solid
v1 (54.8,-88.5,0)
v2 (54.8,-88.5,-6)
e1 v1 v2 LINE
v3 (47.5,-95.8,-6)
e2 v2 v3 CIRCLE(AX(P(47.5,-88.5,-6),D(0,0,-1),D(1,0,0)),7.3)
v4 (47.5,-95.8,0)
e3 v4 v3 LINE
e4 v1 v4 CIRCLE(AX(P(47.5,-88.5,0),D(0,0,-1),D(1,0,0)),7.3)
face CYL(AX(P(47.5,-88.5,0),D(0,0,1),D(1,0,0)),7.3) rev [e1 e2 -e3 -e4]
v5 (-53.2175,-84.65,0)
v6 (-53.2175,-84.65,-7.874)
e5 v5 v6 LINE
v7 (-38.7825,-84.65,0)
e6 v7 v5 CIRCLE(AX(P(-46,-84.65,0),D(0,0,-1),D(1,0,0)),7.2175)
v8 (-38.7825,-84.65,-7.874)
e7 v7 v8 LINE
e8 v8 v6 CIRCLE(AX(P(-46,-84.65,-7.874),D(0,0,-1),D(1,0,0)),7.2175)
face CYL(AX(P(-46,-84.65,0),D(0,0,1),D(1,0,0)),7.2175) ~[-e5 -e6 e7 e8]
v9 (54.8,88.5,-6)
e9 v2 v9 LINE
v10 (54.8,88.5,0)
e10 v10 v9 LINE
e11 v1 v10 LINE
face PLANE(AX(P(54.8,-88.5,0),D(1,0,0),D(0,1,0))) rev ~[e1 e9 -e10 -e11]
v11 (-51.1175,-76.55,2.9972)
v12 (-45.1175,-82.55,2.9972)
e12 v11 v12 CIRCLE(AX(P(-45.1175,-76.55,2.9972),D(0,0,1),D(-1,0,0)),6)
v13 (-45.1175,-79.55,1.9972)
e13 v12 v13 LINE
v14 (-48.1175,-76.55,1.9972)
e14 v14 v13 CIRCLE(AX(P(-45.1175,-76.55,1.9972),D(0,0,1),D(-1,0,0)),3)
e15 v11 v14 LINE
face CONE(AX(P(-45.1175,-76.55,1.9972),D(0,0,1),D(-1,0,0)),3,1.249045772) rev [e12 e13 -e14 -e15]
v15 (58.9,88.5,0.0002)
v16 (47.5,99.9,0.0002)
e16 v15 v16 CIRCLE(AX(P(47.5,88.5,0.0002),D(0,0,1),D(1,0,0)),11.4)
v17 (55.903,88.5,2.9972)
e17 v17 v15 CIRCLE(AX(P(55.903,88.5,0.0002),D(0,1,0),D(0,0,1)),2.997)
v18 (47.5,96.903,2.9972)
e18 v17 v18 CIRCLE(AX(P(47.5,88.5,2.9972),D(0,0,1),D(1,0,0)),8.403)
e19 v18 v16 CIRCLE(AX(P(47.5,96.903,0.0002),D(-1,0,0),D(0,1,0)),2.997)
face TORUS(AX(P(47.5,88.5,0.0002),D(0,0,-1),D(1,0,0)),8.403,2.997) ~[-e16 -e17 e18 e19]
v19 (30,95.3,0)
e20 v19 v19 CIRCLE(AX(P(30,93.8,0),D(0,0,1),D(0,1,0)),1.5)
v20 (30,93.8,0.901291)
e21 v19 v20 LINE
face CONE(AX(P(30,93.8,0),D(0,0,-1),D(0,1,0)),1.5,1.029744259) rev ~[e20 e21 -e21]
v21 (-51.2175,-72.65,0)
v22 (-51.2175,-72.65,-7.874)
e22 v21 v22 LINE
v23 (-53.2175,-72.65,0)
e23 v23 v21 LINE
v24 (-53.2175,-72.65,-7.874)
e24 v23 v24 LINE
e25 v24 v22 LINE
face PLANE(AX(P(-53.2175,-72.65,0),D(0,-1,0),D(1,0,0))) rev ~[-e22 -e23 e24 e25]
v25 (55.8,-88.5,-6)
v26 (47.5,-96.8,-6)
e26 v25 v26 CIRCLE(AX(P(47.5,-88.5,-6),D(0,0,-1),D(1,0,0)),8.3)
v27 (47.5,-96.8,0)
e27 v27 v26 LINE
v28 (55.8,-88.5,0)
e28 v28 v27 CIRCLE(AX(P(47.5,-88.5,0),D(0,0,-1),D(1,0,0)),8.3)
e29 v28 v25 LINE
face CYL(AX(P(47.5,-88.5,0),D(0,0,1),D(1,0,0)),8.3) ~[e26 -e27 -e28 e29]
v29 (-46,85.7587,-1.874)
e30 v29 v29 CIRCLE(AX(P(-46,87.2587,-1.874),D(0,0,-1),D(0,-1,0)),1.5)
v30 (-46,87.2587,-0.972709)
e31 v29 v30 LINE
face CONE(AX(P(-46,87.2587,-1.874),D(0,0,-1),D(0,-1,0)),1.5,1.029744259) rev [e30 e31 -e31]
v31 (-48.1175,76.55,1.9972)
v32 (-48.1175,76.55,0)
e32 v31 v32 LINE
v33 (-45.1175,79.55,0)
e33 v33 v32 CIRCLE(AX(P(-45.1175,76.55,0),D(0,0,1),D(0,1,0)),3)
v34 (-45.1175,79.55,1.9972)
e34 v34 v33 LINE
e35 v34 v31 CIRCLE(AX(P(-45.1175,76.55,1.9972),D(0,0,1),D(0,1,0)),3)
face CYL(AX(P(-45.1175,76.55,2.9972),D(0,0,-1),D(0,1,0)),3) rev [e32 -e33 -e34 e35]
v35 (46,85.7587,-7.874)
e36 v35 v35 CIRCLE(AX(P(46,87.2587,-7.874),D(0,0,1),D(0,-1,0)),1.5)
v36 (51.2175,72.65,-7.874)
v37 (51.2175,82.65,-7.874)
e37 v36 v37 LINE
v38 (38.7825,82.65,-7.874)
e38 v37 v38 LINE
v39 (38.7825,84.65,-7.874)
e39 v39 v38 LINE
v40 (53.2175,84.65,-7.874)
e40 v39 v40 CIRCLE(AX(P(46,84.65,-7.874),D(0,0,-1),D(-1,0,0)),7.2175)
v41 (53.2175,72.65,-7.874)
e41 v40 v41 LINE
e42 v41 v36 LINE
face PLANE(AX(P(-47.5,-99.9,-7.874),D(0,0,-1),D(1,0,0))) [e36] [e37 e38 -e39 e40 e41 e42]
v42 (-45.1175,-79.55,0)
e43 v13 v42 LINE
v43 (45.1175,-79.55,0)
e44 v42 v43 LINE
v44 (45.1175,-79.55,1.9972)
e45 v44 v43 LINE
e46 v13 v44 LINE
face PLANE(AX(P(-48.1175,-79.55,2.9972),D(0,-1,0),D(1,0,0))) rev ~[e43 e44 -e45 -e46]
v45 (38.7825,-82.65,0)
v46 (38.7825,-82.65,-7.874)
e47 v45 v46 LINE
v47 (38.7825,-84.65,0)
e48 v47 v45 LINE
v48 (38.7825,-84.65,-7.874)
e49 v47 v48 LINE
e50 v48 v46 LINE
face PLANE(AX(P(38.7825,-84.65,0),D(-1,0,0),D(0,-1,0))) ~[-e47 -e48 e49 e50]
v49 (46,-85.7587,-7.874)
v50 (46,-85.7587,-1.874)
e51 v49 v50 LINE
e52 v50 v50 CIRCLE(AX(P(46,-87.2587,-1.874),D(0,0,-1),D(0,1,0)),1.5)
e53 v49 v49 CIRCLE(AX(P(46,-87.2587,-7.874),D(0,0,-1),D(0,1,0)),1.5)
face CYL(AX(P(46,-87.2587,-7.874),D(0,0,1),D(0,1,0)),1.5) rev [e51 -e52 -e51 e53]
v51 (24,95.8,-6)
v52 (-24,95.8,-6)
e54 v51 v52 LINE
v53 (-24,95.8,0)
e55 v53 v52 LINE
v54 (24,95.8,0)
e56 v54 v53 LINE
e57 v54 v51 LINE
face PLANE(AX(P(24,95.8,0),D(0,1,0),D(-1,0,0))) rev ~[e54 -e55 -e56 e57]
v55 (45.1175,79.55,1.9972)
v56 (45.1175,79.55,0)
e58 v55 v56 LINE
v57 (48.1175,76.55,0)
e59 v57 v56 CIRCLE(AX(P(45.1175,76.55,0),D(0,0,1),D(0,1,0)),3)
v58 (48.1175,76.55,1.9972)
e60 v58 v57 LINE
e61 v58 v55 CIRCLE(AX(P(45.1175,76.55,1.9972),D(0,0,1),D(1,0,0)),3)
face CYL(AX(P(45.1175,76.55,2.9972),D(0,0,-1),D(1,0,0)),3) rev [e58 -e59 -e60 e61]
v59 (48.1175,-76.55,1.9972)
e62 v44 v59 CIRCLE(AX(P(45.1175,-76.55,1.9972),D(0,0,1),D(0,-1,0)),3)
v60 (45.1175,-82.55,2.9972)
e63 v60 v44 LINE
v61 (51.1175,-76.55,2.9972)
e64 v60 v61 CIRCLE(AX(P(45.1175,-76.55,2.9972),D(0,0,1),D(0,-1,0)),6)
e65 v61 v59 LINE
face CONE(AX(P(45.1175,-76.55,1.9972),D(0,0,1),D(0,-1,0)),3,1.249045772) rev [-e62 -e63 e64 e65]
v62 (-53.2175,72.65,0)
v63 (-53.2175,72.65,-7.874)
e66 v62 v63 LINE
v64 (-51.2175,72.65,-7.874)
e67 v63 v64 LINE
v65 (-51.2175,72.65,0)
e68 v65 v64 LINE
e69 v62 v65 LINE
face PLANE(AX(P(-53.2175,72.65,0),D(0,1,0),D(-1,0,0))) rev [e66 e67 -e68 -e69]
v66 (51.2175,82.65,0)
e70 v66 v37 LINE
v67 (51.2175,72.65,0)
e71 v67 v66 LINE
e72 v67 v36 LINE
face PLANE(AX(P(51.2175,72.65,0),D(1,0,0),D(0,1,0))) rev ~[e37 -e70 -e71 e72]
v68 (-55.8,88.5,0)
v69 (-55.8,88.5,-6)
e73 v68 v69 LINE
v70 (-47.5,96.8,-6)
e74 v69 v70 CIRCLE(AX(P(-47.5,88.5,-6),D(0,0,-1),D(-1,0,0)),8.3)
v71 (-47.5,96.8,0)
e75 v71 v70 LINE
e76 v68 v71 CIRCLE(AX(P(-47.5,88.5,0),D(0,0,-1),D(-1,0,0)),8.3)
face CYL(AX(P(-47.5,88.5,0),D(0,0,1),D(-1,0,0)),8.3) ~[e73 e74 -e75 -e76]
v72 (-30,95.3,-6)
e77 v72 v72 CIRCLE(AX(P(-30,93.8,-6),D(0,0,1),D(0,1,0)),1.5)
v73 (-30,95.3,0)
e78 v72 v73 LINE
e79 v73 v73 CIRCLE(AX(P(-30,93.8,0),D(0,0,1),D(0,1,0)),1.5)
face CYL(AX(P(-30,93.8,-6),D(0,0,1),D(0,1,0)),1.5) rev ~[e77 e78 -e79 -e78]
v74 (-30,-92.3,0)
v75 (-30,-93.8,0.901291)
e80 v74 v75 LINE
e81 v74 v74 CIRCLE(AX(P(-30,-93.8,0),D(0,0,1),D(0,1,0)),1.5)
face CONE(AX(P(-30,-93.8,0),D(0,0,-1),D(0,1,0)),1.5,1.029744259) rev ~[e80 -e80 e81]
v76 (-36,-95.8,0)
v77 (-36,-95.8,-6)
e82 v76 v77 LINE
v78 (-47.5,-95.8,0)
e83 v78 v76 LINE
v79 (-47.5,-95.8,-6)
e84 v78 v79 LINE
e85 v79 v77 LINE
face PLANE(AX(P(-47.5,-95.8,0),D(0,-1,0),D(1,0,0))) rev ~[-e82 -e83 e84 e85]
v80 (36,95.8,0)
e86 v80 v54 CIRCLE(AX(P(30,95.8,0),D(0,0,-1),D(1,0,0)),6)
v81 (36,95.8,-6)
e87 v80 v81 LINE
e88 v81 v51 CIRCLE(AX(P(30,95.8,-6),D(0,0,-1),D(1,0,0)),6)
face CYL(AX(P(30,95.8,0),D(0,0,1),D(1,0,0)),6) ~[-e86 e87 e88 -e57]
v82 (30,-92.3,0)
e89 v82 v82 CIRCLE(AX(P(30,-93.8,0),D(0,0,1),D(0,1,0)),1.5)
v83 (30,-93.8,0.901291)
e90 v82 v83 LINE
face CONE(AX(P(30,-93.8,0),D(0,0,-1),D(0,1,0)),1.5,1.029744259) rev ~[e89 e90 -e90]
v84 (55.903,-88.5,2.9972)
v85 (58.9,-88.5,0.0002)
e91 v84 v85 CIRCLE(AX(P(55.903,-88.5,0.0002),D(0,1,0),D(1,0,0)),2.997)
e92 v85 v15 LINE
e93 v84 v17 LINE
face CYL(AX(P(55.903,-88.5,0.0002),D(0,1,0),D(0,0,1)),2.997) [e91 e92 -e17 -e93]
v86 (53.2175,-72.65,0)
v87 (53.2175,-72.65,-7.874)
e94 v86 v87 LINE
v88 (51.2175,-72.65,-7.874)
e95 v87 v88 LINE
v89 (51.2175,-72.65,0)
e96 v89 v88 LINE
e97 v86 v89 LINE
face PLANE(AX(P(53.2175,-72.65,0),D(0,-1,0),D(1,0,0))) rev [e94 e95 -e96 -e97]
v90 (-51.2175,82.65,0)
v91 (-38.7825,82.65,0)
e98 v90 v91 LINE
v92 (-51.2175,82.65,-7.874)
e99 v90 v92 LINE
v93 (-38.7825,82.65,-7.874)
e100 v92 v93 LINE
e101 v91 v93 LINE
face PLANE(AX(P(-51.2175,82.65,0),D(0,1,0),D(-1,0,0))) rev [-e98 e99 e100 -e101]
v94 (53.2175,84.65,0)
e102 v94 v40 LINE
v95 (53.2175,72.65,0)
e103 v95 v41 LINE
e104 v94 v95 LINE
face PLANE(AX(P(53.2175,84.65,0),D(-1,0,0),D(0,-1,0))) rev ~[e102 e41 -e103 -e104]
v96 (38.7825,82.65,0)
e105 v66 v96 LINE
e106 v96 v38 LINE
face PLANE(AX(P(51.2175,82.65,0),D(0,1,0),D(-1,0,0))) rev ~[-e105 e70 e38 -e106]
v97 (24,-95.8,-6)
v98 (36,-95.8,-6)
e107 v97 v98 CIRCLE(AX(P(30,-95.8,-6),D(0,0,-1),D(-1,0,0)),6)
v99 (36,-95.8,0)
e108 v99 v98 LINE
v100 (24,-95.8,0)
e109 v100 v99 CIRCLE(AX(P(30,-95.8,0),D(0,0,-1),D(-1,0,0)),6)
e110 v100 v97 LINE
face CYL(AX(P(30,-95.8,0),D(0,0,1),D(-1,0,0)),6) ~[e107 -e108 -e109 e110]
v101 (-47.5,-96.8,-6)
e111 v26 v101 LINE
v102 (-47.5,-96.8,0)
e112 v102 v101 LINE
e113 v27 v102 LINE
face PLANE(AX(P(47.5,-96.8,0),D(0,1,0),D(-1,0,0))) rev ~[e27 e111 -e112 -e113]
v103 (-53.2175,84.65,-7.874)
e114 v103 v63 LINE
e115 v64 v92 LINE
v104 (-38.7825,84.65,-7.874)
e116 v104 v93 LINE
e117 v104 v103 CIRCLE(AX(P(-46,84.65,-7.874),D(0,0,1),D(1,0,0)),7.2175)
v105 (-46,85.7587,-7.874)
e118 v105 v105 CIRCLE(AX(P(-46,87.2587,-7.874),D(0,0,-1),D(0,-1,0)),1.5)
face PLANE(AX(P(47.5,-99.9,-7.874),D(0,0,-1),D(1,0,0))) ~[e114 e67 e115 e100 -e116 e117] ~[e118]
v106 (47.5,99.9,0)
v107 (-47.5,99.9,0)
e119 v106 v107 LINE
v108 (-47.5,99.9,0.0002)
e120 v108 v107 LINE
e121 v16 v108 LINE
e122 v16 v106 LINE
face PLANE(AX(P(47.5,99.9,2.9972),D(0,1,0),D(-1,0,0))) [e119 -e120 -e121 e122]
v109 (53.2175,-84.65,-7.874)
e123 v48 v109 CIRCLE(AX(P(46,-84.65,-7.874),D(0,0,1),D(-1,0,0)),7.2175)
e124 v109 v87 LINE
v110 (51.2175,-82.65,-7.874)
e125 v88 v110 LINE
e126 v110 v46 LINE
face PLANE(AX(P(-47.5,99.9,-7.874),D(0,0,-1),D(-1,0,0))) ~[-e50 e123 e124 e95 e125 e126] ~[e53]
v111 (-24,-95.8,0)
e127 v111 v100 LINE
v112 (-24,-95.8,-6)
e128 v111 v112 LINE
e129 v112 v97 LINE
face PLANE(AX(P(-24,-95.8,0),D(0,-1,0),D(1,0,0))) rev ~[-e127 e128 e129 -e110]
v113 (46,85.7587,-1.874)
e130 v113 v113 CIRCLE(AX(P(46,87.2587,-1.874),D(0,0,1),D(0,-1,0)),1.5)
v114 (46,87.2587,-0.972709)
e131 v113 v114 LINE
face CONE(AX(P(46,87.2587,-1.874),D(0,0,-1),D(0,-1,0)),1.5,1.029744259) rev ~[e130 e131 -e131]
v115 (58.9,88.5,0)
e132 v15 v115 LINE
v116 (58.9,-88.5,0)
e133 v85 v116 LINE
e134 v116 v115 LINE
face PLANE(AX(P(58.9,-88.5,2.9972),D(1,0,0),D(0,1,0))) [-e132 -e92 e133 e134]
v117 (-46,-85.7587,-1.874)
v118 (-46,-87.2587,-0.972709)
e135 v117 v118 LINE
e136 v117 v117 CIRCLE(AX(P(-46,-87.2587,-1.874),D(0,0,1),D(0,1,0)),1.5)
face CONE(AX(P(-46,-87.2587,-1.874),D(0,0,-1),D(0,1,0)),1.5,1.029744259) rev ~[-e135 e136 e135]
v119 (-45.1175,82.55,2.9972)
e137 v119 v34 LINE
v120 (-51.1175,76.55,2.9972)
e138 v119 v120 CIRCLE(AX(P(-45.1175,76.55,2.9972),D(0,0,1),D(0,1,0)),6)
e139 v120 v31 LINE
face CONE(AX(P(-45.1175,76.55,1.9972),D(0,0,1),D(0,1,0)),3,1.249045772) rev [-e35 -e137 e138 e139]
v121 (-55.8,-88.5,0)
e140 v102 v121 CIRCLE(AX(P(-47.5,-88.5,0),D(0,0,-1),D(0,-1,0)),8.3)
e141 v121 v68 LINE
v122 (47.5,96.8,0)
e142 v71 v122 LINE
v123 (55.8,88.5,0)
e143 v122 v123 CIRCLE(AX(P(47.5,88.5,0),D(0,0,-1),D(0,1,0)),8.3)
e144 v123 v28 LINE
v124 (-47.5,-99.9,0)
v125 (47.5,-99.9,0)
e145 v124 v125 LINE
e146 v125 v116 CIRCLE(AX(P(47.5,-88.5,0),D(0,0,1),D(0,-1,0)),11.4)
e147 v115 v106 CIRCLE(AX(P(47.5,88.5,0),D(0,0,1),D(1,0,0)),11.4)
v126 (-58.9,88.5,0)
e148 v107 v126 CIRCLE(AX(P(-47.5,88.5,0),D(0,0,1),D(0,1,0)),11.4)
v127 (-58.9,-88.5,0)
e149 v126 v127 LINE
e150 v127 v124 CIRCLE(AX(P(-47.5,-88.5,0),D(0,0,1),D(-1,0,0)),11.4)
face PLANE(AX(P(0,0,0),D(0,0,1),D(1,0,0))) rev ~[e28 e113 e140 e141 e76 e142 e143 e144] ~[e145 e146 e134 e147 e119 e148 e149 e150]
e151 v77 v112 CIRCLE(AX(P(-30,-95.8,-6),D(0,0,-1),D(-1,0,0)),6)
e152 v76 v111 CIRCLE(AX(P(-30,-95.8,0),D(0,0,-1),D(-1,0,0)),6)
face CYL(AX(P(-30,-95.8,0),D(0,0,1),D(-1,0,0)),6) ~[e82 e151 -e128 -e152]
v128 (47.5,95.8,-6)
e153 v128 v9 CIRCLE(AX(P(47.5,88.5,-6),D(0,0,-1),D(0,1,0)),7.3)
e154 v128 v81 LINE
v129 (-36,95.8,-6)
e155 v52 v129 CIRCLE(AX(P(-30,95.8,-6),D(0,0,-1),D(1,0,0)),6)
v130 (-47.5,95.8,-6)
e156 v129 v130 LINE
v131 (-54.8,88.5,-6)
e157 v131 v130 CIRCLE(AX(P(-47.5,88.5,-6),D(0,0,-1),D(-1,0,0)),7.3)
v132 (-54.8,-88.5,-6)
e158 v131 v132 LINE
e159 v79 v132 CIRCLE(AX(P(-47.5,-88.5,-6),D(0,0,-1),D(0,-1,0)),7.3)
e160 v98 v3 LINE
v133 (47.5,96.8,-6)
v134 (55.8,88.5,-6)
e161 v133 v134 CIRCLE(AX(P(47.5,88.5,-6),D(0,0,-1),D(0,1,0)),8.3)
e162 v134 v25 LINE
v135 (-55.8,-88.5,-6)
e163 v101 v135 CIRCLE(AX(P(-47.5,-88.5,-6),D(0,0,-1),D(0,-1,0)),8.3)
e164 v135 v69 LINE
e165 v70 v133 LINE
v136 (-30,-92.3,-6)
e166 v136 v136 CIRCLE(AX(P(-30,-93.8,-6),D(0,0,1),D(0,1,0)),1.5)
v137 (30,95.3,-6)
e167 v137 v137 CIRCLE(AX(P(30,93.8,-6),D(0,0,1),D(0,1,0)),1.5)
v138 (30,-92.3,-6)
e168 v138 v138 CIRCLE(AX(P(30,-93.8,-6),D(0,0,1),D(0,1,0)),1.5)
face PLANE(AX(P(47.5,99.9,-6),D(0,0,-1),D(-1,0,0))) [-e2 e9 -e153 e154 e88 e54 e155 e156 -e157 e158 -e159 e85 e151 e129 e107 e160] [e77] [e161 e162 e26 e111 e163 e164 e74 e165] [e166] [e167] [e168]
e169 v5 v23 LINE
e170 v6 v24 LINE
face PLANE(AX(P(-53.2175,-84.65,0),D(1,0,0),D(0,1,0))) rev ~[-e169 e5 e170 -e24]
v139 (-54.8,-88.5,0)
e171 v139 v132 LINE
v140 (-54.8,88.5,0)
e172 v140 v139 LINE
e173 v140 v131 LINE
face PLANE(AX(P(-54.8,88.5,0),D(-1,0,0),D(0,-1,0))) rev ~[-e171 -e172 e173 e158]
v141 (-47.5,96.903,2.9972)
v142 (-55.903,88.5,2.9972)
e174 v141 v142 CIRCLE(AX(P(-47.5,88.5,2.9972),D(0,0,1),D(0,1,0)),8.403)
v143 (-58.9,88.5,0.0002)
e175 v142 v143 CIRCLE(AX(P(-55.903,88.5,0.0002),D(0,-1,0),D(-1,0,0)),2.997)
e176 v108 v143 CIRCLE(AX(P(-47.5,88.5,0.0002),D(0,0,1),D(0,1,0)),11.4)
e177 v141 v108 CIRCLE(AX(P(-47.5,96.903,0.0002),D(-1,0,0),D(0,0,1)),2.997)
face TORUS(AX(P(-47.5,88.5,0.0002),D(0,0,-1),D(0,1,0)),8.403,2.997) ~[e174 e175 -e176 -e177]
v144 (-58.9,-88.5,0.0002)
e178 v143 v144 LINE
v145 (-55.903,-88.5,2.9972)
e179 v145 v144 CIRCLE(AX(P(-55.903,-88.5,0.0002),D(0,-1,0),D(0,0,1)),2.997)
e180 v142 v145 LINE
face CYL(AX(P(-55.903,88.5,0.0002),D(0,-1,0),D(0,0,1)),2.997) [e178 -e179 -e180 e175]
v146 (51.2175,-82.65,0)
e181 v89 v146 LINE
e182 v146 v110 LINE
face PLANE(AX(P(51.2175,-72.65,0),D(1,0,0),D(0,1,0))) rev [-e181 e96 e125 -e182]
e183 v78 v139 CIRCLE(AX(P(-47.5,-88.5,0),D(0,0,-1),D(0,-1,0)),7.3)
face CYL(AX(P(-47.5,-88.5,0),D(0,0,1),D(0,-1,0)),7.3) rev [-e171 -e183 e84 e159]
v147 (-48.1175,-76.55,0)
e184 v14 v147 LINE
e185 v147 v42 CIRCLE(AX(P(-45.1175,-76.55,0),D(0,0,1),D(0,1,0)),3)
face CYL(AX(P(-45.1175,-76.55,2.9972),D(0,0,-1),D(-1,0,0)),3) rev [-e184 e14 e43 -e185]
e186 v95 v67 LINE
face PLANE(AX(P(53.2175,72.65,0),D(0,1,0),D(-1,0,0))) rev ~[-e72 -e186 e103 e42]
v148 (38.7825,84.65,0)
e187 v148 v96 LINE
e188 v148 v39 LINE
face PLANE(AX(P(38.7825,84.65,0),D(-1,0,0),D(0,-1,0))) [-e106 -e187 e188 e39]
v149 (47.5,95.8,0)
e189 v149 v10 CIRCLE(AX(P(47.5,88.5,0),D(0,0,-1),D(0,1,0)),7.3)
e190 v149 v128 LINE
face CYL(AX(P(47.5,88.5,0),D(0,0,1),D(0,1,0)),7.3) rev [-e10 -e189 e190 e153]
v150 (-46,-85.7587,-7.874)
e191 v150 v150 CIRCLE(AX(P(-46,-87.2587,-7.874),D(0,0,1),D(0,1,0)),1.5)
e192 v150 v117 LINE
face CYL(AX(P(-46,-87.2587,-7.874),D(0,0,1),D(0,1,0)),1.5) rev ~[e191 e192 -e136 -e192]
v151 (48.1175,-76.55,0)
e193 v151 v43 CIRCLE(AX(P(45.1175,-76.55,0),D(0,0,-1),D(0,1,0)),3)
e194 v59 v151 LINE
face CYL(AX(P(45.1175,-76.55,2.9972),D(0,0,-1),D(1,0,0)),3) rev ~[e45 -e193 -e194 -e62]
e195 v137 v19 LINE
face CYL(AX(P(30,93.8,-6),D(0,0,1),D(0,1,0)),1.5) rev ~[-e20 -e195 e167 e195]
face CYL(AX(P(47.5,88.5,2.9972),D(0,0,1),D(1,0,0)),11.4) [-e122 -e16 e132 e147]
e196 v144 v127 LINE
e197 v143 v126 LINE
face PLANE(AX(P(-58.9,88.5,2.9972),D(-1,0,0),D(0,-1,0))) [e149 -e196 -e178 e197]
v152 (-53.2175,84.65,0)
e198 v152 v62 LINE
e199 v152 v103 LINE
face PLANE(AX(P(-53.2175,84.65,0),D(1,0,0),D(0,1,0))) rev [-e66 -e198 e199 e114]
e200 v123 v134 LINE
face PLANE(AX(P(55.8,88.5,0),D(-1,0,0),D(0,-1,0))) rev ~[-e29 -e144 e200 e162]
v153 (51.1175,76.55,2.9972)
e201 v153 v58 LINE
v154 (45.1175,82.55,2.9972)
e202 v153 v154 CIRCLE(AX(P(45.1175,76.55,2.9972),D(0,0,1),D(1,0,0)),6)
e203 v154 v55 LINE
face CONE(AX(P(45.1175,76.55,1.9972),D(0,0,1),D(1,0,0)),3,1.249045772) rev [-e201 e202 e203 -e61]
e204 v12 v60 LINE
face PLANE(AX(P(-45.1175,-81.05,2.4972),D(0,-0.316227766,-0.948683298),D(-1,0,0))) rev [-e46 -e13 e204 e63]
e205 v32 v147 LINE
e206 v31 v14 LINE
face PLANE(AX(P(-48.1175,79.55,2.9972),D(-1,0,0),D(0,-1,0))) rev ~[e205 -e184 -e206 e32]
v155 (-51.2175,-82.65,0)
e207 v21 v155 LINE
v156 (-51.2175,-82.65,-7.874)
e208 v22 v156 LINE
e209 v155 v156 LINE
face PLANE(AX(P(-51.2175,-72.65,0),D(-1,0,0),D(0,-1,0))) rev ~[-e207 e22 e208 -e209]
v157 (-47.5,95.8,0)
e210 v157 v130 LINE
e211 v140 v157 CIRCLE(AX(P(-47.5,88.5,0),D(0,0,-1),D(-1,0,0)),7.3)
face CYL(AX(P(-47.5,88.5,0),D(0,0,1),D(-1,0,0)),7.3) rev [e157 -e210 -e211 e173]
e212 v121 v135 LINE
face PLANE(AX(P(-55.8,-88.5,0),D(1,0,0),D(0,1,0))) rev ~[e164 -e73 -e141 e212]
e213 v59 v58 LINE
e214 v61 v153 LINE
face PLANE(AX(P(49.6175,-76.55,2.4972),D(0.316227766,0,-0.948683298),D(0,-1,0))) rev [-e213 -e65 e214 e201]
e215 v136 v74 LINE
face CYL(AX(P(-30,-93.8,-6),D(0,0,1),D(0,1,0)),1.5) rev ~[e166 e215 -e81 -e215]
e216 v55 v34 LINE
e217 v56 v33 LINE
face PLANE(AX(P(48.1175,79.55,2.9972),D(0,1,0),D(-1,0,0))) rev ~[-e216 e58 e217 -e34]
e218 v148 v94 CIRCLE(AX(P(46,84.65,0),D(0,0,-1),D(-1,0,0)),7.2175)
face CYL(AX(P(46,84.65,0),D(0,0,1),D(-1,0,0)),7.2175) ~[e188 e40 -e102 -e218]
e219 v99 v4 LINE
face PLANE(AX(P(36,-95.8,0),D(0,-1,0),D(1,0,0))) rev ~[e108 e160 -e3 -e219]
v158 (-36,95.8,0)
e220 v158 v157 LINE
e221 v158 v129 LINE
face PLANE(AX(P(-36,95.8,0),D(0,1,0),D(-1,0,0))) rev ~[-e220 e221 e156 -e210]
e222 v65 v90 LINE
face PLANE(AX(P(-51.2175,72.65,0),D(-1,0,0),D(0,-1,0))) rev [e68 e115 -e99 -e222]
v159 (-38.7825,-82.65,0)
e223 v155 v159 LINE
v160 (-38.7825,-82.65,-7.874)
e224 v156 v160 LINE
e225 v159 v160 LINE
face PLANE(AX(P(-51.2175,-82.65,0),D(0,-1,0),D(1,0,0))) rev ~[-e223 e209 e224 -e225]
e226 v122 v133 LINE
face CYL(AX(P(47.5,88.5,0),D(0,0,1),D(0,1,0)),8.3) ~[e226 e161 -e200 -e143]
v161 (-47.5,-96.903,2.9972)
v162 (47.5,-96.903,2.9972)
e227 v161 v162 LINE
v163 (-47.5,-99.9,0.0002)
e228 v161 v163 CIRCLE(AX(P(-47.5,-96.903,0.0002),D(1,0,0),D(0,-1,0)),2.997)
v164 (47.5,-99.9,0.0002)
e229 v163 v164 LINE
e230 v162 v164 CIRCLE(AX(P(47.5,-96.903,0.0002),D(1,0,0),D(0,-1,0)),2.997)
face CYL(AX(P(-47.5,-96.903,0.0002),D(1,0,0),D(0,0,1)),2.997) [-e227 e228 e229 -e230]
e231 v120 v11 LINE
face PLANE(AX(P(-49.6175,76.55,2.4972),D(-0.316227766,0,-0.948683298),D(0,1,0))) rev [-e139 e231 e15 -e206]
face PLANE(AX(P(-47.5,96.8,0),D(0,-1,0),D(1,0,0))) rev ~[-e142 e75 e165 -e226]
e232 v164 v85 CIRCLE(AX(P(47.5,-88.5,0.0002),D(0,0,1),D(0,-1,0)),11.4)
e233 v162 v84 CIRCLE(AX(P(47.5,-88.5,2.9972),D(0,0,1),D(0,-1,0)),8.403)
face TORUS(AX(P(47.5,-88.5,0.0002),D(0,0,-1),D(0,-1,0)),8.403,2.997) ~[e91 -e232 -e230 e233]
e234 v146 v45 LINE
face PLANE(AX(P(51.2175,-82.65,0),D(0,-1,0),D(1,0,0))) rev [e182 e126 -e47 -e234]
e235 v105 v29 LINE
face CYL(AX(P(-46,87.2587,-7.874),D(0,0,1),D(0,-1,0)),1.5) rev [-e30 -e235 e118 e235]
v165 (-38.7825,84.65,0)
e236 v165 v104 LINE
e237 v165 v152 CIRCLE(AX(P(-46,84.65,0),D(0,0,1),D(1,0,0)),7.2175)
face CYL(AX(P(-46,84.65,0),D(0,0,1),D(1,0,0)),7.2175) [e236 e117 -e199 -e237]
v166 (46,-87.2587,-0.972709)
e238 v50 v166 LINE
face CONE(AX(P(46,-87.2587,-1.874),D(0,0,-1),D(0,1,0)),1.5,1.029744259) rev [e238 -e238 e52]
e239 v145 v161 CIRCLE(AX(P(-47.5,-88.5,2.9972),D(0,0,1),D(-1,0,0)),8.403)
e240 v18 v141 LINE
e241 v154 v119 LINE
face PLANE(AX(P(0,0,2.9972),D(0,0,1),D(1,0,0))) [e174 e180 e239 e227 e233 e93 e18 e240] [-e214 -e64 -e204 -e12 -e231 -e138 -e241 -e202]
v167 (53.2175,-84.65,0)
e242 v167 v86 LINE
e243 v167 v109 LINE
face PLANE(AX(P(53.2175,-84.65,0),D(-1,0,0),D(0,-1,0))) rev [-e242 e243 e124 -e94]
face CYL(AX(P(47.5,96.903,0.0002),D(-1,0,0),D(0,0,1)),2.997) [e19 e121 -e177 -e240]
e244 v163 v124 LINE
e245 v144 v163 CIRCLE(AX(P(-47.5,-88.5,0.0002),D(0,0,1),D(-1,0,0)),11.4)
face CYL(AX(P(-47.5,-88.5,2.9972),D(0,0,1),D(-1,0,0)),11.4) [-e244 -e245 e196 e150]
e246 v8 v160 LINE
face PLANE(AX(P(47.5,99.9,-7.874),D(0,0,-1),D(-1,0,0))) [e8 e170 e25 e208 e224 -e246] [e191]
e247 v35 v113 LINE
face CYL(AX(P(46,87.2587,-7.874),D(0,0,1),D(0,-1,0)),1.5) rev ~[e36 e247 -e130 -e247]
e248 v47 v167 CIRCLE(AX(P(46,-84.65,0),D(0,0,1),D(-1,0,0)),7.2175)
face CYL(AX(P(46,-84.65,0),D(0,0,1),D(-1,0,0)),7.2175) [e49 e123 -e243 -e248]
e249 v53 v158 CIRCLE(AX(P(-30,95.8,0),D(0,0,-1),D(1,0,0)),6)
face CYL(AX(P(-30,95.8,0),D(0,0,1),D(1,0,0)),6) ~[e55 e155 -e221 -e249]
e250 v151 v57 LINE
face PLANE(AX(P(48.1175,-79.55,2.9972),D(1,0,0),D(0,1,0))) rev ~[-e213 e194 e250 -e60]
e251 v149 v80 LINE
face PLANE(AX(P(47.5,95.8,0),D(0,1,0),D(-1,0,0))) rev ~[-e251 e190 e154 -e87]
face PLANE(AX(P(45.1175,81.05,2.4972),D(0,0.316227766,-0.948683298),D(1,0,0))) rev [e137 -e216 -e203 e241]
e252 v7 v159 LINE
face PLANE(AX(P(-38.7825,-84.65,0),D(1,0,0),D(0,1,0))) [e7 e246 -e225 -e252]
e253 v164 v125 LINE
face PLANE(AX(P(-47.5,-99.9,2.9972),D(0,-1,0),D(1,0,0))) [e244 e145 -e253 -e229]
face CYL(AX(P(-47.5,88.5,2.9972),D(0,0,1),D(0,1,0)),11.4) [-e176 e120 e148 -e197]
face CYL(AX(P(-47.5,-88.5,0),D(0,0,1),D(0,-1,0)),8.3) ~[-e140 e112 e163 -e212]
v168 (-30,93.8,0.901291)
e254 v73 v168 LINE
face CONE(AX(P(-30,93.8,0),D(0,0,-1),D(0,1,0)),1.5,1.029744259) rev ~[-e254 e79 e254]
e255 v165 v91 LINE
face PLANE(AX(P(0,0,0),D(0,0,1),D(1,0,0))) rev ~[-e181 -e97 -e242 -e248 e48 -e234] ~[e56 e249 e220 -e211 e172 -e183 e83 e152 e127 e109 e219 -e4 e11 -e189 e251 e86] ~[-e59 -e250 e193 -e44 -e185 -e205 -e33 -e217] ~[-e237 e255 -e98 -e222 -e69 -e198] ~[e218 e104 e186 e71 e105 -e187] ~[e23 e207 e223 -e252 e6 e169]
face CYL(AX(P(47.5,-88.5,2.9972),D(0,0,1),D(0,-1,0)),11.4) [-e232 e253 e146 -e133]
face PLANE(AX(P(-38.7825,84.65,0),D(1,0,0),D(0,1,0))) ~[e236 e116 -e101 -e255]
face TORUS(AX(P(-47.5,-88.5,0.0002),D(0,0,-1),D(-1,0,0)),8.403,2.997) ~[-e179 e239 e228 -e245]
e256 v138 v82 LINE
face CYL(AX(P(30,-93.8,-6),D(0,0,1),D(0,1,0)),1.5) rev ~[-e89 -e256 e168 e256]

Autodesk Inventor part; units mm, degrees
ref_plane "YZ Plane" through (0, 0, 0) normal (1, 0, 0) x (0, 1, 0)
ref_plane "Work Plane1" through (0, 0, 2.9972) normal (0, 0, 1) x (1, 0, 0)
ref_plane "Work Plane3" through (-58.9, -99.9, 0) normal (0, 0, 1) x (1, 0, 0)
sketch "Sketch2" plane through (0, 0, 2.9972) normal (0, 0, 1) x (1, 0, 0)
  line L0 (51.1175, 82.55) -> (51.1175, -82.55) construction
  line L1 (-51.1175, 82.55) -> (51.1175, 82.55) construction
  line L2 (-51.1175, -82.55) -> (-51.1175, 82.55) construction
  line L3 (51.1175, -82.55) -> (-51.1175, -82.55) construction
  arc A0 (58.9, 88.5) -> (47.5, 99.9) centre (47.5, 88.5) ccw projected
  line L4 (47.5, 99.9) -> (-47.5, 99.9) projected
  line L5 (58.9, -88.5) -> (58.9, 88.5) projected
  arc A1 (47.5, -99.9) -> (58.9, -88.5) centre (47.5, -88.5) ccw projected
  line L6 (-47.5, -99.9) -> (47.5, -99.9) projected
  arc A2 (-58.9, -88.5) -> (-47.5, -99.9) centre (-47.5, -88.5) ccw projected
  line L7 (-58.9, 88.5) -> (-58.9, -88.5) projected
  arc A3 (-47.5, 99.9) -> (-58.9, 88.5) centre (-47.5, 88.5) ccw projected
  line L8 (48.1175, -79.55) -> (48.1175, 79.55)
  line L9 (48.1175, 79.55) -> (-48.1175, 79.55)
  line L10 (-48.1175, 79.55) -> (-48.1175, -79.55)
  line L11 (-48.1175, -79.55) -> (48.1175, -79.55)
  point P0 (0, 0)
  dimension "d1" = 3
extrude "Extrusion1" add sketch "Sketch2" against normal up to surface (2.9972 mm away)
fillet "Fillet1" radius 3 4 edges at (48.1175, 79.55, 1.4986) (48.1175, -79.55, 1.4986) (-48.1175, -79.55, 1.4986) (-48.1175, 79.55, 1.4986)
chamfer "Chamfer1" distance 3 distance2 1 4 edges at (48.1175, 0, 2.9972) (0, -79.55, 2.9972) (-48.1175, 0, 2.9972) (0, 79.55, 2.9972) measured on face at (15.0392, -93.1167, 2.9972)
sketch "Sketch3" plane through (47.5, 99.9, 0) normal (0, 0, -1) x (-1, 0, 0)
  line L0 (98.6175, -17.35) -> (-3.6175, -17.35) construction
  line L1 (98.6175, -182.45) -> (98.6175, -17.35) construction
  line L2 (-3.6175, -182.45) -> (98.6175, -182.45) construction
  line L3 (-3.6175, -17.35) -> (-3.6175, -182.45) construction
  line L4 (95, -196.8) -> (0, -196.8) construction
  arc A0 (-8.4, -188.4) -> (0, -196.8) centre (0, -188.4) ccw construction
  line L5 (-8.4, -188.4) -> (-8.4, -11.4) construction
  arc A1 (0, -3) -> (-8.4, -11.4) centre (0, -11.4) ccw construction
  line L6 (0, -3) -> (95, -3) construction
  arc A2 (103.4, -11.4) -> (95, -3) centre (95, -11.4) ccw construction
  line L7 (103.4, -11.4) -> (103.4, -188.4) construction
  arc A3 (95, -196.8) -> (103.4, -188.4) centre (95, -188.4) ccw construction
  line L8 (-3.7175, -17.25) -> (98.7175, -17.25)
  line L9 (98.7175, -17.25) -> (98.7175, -182.55)
  line L10 (98.7175, -182.55) -> (-3.7175, -182.55)
  line L11 (-3.7175, -182.55) -> (-3.7175, -17.25)
  line L12 (95, -3.1) -> (0, -3.1)
  arc A4 (0, -3.1) -> (-8.3, -11.4) centre (0, -11.4) ccw
  line L13 (-8.3, -11.4) -> (-8.3, -188.4)
  arc A5 (-8.3, -188.4) -> (0, -196.7) centre (0, -188.4) ccw
  line L14 (0, -196.7) -> (95, -196.7)
  arc A6 (95, -196.7) -> (103.3, -188.4) centre (95, -188.4) ccw
  line L15 (103.3, -188.4) -> (103.3, -11.4)
  arc A7 (103.3, -11.4) -> (95, -3.1) centre (95, -11.4) ccw
  line L16 (100.7175, -15.25) -> (-5.7175, -15.25)
  line L17 (-5.7175, -15.25) -> (-5.7175, -184.55)
  line L18 (-5.7175, -184.55) -> (100.7175, -184.55)
  line L19 (100.7175, -184.55) -> (100.7175, -15.25)
  line L20 (100.7175, -172.55) -> (98.7175, -172.55)
  arc A8 (86.2825, -184.55) -> (100.7175, -184.55) centre (93.5, -184.55) ccw
  line L21 (86.2825, -184.55) -> (86.2825, -182.55)
  circle A9 centre (93.5, -177.4) radius 1.0065 construction
  line L22 (93.5, -177.4) -> (93.5, -184.55) construction
  point P0 (47.5, -99.9)
  dimension "d8" = 0.1
  dimension "d9" = 0.1
  dimension "d10" = 2
  dimension "d11" = 12
ref_plane "Work Plane4" through (-51.1175, -82.55, -7.874) normal (0, 0, -1) x (0, 1, 0)
extrude "Extrusion2" add sketch "Sketch3" along normal up to surface (7.874 mm away) contours L20 L19 L18 L21 L10 L9 | L18 A8
ref_plane "Work Plane5" through (0, -88.5, 2.9972) normal (1, 0, 0) x (0, 0, -1)
ref_plane "Work Plane6" through (-47.5, 0, 2.9972) normal (0, 1, 0) x (1, 0, 0)
sketch "Sketch5" plane through (-46, -84.65, -7.874) normal (0, 0, -1) x (-1, 0, 0)
  arc A0 (-7.2175, 0) -> (7.2175, 0) centre (0, 0) ccw projected
  line L0 (0, -7.2175) -> (0, 2) construction
  line L1 (-7.2175, 2) -> (5.2175, 2) projected
  point P0 (-46, 84.65)
  point P1 (0, -2.6087)
hole "Hole1" at (-46, -87.2587, -7.874) direction (0, 0, 1) diameter 3 depth 6 tip angle 118
mirror "Mirror1" about plane through (0, -88.5, 2.9972) normal (1, 0, 0) of "Extrusion2", "Hole1"
mirror "Mirror2" about plane through (-47.5, 0, 2.9972) normal (0, 1, 0) of "Extrusion2", "Hole1", "Mirror1"
fillet "Fillet2" radius 3 8 edges at (55.561, -96.561, 2.9972) (58.9, 0, 2.9972) (55.561, 96.561, 2.9972) (0, 99.9, 2.9972) (-55.561, 96.561, 2.9972) (-58.9, 0, 2.9972) (-55.561, -96.561, 2.9972) (0, -99.9, 2.9972)
sketch "Sketch6" plane through (47.5, 99.9, 0) normal (0, 0, -1) x (-1, 0, 0)
  line L0 (95, -196.8) -> (0, -196.8) construction
  line L1 (-8.4, -188.4) -> (-8.4, -11.4) construction
  line L2 (0, -3) -> (95, -3) construction
  line L3 (103.4, -11.4) -> (103.4, -188.4) construction
  arc A0 (-8.4, -188.4) -> (0, -196.8) centre (0, -188.4) ccw construction
  arc A1 (0, -3) -> (-8.4, -11.4) centre (0, -11.4) ccw construction
  arc A2 (103.4, -11.4) -> (95, -3) centre (95, -11.4) ccw construction
  arc A3 (95, -196.8) -> (103.4, -188.4) centre (95, -188.4) ccw construction
  line L4 (0, -196.7) -> (95, -196.7)
  arc A4 (95, -196.7) -> (103.3, -188.4) centre (95, -188.4) ccw
  line L5 (103.3, -188.4) -> (103.3, -11.4)
  arc A5 (103.3, -11.4) -> (95, -3.1) centre (95, -11.4) ccw
  line L6 (95, -3.1) -> (0, -3.1)
  arc A6 (0, -3.1) -> (-8.3, -11.4) centre (0, -11.4) ccw
  line L7 (-8.3, -11.4) -> (-8.3, -188.4)
  arc A7 (-8.3, -188.4) -> (0, -196.7) centre (0, -188.4) ccw
  line L8 (-7.3, -188.4) -> (-7.3, -11.4)
  arc A8 (0, -4.1) -> (-7.3, -11.4) centre (0, -11.4) ccw
  line L9 (0, -4.1) -> (95, -4.1)
  arc A9 (102.3, -11.4) -> (95, -4.1) centre (95, -11.4) ccw
  line L10 (102.3, -11.4) -> (102.3, -188.4)
  arc A10 (95, -195.7) -> (102.3, -188.4) centre (95, -188.4) ccw
  line L11 (95, -195.7) -> (0, -195.7)
  arc A11 (-7.3, -188.4) -> (0, -195.7) centre (0, -188.4) ccw
  arc A12 (23.5, -195.7) -> (11.5, -195.7) centre (17.5, -195.7) ccw
  line L12 (47.5, -195.7) -> (47.5, -4.1) construction
  arc A13 (83.5, -195.7) -> (71.5, -195.7) centre (77.5, -195.7) ccw
  line L13 (-7.3, -99.9) -> (102.3, -99.9) construction
  arc A14 (11.5, -4.1) -> (23.5, -4.1) centre (17.5, -4.1) ccw
  arc A15 (71.5, -4.1) -> (83.5, -4.1) centre (77.5, -4.1) ccw
  point P0 (47.5, -99.9)
  point P1 (11.5, -4.1)
  point P2 (23.5, -4.1)
  point P3 (83.5, -4.1)
  point P4 (83.5, -195.7)
  point P5 (71.5, -195.7)
  dimension "d22" = 0.1
  dimension "d23" = 1
  dimension "d24" = 6
  dimension "d34" = 60
extrude "Extrusion3" add sketch "Sketch6" along normal blind 6 contours A7 L7 A6 L6 A5 L5 A4 L4 | A12 L11 | L9 A14 | A13 L11 | L9 A15
sketch "Sketch8" plane through (47.5, 99.9, -6) normal (0, 0, -1) x (-1, 0, 0)
  line L0 (77.5, -6.1) -> (17.5, -6.1) construction
  line L1 (17.5, -6.1) -> (17.5, -193.7) construction
  line L2 (17.5, -193.7) -> (77.5, -193.7) construction
  line L3 (77.5, -193.7) -> (77.5, -6.1) construction
  line L4 (77.5, -6.1) -> (17.5, -193.7) construction
  line L5 (17.5, -6.1) -> (77.5, -193.7) construction
  line L6 (0, -196.7) -> (95, -196.7) construction
  point P0 (47.5, -99.9)
  dimension "d35" = 3
  dimension "d36" = 60
hole "Hole3" at (30, -93.8, -6) at (-30, -93.8, -6) at (-30, 93.8, -6) at (30, 93.8, -6) direction (0, 0, 1) diameter 3 depth 6 tip angle 118
properties part number "front-bezel"
